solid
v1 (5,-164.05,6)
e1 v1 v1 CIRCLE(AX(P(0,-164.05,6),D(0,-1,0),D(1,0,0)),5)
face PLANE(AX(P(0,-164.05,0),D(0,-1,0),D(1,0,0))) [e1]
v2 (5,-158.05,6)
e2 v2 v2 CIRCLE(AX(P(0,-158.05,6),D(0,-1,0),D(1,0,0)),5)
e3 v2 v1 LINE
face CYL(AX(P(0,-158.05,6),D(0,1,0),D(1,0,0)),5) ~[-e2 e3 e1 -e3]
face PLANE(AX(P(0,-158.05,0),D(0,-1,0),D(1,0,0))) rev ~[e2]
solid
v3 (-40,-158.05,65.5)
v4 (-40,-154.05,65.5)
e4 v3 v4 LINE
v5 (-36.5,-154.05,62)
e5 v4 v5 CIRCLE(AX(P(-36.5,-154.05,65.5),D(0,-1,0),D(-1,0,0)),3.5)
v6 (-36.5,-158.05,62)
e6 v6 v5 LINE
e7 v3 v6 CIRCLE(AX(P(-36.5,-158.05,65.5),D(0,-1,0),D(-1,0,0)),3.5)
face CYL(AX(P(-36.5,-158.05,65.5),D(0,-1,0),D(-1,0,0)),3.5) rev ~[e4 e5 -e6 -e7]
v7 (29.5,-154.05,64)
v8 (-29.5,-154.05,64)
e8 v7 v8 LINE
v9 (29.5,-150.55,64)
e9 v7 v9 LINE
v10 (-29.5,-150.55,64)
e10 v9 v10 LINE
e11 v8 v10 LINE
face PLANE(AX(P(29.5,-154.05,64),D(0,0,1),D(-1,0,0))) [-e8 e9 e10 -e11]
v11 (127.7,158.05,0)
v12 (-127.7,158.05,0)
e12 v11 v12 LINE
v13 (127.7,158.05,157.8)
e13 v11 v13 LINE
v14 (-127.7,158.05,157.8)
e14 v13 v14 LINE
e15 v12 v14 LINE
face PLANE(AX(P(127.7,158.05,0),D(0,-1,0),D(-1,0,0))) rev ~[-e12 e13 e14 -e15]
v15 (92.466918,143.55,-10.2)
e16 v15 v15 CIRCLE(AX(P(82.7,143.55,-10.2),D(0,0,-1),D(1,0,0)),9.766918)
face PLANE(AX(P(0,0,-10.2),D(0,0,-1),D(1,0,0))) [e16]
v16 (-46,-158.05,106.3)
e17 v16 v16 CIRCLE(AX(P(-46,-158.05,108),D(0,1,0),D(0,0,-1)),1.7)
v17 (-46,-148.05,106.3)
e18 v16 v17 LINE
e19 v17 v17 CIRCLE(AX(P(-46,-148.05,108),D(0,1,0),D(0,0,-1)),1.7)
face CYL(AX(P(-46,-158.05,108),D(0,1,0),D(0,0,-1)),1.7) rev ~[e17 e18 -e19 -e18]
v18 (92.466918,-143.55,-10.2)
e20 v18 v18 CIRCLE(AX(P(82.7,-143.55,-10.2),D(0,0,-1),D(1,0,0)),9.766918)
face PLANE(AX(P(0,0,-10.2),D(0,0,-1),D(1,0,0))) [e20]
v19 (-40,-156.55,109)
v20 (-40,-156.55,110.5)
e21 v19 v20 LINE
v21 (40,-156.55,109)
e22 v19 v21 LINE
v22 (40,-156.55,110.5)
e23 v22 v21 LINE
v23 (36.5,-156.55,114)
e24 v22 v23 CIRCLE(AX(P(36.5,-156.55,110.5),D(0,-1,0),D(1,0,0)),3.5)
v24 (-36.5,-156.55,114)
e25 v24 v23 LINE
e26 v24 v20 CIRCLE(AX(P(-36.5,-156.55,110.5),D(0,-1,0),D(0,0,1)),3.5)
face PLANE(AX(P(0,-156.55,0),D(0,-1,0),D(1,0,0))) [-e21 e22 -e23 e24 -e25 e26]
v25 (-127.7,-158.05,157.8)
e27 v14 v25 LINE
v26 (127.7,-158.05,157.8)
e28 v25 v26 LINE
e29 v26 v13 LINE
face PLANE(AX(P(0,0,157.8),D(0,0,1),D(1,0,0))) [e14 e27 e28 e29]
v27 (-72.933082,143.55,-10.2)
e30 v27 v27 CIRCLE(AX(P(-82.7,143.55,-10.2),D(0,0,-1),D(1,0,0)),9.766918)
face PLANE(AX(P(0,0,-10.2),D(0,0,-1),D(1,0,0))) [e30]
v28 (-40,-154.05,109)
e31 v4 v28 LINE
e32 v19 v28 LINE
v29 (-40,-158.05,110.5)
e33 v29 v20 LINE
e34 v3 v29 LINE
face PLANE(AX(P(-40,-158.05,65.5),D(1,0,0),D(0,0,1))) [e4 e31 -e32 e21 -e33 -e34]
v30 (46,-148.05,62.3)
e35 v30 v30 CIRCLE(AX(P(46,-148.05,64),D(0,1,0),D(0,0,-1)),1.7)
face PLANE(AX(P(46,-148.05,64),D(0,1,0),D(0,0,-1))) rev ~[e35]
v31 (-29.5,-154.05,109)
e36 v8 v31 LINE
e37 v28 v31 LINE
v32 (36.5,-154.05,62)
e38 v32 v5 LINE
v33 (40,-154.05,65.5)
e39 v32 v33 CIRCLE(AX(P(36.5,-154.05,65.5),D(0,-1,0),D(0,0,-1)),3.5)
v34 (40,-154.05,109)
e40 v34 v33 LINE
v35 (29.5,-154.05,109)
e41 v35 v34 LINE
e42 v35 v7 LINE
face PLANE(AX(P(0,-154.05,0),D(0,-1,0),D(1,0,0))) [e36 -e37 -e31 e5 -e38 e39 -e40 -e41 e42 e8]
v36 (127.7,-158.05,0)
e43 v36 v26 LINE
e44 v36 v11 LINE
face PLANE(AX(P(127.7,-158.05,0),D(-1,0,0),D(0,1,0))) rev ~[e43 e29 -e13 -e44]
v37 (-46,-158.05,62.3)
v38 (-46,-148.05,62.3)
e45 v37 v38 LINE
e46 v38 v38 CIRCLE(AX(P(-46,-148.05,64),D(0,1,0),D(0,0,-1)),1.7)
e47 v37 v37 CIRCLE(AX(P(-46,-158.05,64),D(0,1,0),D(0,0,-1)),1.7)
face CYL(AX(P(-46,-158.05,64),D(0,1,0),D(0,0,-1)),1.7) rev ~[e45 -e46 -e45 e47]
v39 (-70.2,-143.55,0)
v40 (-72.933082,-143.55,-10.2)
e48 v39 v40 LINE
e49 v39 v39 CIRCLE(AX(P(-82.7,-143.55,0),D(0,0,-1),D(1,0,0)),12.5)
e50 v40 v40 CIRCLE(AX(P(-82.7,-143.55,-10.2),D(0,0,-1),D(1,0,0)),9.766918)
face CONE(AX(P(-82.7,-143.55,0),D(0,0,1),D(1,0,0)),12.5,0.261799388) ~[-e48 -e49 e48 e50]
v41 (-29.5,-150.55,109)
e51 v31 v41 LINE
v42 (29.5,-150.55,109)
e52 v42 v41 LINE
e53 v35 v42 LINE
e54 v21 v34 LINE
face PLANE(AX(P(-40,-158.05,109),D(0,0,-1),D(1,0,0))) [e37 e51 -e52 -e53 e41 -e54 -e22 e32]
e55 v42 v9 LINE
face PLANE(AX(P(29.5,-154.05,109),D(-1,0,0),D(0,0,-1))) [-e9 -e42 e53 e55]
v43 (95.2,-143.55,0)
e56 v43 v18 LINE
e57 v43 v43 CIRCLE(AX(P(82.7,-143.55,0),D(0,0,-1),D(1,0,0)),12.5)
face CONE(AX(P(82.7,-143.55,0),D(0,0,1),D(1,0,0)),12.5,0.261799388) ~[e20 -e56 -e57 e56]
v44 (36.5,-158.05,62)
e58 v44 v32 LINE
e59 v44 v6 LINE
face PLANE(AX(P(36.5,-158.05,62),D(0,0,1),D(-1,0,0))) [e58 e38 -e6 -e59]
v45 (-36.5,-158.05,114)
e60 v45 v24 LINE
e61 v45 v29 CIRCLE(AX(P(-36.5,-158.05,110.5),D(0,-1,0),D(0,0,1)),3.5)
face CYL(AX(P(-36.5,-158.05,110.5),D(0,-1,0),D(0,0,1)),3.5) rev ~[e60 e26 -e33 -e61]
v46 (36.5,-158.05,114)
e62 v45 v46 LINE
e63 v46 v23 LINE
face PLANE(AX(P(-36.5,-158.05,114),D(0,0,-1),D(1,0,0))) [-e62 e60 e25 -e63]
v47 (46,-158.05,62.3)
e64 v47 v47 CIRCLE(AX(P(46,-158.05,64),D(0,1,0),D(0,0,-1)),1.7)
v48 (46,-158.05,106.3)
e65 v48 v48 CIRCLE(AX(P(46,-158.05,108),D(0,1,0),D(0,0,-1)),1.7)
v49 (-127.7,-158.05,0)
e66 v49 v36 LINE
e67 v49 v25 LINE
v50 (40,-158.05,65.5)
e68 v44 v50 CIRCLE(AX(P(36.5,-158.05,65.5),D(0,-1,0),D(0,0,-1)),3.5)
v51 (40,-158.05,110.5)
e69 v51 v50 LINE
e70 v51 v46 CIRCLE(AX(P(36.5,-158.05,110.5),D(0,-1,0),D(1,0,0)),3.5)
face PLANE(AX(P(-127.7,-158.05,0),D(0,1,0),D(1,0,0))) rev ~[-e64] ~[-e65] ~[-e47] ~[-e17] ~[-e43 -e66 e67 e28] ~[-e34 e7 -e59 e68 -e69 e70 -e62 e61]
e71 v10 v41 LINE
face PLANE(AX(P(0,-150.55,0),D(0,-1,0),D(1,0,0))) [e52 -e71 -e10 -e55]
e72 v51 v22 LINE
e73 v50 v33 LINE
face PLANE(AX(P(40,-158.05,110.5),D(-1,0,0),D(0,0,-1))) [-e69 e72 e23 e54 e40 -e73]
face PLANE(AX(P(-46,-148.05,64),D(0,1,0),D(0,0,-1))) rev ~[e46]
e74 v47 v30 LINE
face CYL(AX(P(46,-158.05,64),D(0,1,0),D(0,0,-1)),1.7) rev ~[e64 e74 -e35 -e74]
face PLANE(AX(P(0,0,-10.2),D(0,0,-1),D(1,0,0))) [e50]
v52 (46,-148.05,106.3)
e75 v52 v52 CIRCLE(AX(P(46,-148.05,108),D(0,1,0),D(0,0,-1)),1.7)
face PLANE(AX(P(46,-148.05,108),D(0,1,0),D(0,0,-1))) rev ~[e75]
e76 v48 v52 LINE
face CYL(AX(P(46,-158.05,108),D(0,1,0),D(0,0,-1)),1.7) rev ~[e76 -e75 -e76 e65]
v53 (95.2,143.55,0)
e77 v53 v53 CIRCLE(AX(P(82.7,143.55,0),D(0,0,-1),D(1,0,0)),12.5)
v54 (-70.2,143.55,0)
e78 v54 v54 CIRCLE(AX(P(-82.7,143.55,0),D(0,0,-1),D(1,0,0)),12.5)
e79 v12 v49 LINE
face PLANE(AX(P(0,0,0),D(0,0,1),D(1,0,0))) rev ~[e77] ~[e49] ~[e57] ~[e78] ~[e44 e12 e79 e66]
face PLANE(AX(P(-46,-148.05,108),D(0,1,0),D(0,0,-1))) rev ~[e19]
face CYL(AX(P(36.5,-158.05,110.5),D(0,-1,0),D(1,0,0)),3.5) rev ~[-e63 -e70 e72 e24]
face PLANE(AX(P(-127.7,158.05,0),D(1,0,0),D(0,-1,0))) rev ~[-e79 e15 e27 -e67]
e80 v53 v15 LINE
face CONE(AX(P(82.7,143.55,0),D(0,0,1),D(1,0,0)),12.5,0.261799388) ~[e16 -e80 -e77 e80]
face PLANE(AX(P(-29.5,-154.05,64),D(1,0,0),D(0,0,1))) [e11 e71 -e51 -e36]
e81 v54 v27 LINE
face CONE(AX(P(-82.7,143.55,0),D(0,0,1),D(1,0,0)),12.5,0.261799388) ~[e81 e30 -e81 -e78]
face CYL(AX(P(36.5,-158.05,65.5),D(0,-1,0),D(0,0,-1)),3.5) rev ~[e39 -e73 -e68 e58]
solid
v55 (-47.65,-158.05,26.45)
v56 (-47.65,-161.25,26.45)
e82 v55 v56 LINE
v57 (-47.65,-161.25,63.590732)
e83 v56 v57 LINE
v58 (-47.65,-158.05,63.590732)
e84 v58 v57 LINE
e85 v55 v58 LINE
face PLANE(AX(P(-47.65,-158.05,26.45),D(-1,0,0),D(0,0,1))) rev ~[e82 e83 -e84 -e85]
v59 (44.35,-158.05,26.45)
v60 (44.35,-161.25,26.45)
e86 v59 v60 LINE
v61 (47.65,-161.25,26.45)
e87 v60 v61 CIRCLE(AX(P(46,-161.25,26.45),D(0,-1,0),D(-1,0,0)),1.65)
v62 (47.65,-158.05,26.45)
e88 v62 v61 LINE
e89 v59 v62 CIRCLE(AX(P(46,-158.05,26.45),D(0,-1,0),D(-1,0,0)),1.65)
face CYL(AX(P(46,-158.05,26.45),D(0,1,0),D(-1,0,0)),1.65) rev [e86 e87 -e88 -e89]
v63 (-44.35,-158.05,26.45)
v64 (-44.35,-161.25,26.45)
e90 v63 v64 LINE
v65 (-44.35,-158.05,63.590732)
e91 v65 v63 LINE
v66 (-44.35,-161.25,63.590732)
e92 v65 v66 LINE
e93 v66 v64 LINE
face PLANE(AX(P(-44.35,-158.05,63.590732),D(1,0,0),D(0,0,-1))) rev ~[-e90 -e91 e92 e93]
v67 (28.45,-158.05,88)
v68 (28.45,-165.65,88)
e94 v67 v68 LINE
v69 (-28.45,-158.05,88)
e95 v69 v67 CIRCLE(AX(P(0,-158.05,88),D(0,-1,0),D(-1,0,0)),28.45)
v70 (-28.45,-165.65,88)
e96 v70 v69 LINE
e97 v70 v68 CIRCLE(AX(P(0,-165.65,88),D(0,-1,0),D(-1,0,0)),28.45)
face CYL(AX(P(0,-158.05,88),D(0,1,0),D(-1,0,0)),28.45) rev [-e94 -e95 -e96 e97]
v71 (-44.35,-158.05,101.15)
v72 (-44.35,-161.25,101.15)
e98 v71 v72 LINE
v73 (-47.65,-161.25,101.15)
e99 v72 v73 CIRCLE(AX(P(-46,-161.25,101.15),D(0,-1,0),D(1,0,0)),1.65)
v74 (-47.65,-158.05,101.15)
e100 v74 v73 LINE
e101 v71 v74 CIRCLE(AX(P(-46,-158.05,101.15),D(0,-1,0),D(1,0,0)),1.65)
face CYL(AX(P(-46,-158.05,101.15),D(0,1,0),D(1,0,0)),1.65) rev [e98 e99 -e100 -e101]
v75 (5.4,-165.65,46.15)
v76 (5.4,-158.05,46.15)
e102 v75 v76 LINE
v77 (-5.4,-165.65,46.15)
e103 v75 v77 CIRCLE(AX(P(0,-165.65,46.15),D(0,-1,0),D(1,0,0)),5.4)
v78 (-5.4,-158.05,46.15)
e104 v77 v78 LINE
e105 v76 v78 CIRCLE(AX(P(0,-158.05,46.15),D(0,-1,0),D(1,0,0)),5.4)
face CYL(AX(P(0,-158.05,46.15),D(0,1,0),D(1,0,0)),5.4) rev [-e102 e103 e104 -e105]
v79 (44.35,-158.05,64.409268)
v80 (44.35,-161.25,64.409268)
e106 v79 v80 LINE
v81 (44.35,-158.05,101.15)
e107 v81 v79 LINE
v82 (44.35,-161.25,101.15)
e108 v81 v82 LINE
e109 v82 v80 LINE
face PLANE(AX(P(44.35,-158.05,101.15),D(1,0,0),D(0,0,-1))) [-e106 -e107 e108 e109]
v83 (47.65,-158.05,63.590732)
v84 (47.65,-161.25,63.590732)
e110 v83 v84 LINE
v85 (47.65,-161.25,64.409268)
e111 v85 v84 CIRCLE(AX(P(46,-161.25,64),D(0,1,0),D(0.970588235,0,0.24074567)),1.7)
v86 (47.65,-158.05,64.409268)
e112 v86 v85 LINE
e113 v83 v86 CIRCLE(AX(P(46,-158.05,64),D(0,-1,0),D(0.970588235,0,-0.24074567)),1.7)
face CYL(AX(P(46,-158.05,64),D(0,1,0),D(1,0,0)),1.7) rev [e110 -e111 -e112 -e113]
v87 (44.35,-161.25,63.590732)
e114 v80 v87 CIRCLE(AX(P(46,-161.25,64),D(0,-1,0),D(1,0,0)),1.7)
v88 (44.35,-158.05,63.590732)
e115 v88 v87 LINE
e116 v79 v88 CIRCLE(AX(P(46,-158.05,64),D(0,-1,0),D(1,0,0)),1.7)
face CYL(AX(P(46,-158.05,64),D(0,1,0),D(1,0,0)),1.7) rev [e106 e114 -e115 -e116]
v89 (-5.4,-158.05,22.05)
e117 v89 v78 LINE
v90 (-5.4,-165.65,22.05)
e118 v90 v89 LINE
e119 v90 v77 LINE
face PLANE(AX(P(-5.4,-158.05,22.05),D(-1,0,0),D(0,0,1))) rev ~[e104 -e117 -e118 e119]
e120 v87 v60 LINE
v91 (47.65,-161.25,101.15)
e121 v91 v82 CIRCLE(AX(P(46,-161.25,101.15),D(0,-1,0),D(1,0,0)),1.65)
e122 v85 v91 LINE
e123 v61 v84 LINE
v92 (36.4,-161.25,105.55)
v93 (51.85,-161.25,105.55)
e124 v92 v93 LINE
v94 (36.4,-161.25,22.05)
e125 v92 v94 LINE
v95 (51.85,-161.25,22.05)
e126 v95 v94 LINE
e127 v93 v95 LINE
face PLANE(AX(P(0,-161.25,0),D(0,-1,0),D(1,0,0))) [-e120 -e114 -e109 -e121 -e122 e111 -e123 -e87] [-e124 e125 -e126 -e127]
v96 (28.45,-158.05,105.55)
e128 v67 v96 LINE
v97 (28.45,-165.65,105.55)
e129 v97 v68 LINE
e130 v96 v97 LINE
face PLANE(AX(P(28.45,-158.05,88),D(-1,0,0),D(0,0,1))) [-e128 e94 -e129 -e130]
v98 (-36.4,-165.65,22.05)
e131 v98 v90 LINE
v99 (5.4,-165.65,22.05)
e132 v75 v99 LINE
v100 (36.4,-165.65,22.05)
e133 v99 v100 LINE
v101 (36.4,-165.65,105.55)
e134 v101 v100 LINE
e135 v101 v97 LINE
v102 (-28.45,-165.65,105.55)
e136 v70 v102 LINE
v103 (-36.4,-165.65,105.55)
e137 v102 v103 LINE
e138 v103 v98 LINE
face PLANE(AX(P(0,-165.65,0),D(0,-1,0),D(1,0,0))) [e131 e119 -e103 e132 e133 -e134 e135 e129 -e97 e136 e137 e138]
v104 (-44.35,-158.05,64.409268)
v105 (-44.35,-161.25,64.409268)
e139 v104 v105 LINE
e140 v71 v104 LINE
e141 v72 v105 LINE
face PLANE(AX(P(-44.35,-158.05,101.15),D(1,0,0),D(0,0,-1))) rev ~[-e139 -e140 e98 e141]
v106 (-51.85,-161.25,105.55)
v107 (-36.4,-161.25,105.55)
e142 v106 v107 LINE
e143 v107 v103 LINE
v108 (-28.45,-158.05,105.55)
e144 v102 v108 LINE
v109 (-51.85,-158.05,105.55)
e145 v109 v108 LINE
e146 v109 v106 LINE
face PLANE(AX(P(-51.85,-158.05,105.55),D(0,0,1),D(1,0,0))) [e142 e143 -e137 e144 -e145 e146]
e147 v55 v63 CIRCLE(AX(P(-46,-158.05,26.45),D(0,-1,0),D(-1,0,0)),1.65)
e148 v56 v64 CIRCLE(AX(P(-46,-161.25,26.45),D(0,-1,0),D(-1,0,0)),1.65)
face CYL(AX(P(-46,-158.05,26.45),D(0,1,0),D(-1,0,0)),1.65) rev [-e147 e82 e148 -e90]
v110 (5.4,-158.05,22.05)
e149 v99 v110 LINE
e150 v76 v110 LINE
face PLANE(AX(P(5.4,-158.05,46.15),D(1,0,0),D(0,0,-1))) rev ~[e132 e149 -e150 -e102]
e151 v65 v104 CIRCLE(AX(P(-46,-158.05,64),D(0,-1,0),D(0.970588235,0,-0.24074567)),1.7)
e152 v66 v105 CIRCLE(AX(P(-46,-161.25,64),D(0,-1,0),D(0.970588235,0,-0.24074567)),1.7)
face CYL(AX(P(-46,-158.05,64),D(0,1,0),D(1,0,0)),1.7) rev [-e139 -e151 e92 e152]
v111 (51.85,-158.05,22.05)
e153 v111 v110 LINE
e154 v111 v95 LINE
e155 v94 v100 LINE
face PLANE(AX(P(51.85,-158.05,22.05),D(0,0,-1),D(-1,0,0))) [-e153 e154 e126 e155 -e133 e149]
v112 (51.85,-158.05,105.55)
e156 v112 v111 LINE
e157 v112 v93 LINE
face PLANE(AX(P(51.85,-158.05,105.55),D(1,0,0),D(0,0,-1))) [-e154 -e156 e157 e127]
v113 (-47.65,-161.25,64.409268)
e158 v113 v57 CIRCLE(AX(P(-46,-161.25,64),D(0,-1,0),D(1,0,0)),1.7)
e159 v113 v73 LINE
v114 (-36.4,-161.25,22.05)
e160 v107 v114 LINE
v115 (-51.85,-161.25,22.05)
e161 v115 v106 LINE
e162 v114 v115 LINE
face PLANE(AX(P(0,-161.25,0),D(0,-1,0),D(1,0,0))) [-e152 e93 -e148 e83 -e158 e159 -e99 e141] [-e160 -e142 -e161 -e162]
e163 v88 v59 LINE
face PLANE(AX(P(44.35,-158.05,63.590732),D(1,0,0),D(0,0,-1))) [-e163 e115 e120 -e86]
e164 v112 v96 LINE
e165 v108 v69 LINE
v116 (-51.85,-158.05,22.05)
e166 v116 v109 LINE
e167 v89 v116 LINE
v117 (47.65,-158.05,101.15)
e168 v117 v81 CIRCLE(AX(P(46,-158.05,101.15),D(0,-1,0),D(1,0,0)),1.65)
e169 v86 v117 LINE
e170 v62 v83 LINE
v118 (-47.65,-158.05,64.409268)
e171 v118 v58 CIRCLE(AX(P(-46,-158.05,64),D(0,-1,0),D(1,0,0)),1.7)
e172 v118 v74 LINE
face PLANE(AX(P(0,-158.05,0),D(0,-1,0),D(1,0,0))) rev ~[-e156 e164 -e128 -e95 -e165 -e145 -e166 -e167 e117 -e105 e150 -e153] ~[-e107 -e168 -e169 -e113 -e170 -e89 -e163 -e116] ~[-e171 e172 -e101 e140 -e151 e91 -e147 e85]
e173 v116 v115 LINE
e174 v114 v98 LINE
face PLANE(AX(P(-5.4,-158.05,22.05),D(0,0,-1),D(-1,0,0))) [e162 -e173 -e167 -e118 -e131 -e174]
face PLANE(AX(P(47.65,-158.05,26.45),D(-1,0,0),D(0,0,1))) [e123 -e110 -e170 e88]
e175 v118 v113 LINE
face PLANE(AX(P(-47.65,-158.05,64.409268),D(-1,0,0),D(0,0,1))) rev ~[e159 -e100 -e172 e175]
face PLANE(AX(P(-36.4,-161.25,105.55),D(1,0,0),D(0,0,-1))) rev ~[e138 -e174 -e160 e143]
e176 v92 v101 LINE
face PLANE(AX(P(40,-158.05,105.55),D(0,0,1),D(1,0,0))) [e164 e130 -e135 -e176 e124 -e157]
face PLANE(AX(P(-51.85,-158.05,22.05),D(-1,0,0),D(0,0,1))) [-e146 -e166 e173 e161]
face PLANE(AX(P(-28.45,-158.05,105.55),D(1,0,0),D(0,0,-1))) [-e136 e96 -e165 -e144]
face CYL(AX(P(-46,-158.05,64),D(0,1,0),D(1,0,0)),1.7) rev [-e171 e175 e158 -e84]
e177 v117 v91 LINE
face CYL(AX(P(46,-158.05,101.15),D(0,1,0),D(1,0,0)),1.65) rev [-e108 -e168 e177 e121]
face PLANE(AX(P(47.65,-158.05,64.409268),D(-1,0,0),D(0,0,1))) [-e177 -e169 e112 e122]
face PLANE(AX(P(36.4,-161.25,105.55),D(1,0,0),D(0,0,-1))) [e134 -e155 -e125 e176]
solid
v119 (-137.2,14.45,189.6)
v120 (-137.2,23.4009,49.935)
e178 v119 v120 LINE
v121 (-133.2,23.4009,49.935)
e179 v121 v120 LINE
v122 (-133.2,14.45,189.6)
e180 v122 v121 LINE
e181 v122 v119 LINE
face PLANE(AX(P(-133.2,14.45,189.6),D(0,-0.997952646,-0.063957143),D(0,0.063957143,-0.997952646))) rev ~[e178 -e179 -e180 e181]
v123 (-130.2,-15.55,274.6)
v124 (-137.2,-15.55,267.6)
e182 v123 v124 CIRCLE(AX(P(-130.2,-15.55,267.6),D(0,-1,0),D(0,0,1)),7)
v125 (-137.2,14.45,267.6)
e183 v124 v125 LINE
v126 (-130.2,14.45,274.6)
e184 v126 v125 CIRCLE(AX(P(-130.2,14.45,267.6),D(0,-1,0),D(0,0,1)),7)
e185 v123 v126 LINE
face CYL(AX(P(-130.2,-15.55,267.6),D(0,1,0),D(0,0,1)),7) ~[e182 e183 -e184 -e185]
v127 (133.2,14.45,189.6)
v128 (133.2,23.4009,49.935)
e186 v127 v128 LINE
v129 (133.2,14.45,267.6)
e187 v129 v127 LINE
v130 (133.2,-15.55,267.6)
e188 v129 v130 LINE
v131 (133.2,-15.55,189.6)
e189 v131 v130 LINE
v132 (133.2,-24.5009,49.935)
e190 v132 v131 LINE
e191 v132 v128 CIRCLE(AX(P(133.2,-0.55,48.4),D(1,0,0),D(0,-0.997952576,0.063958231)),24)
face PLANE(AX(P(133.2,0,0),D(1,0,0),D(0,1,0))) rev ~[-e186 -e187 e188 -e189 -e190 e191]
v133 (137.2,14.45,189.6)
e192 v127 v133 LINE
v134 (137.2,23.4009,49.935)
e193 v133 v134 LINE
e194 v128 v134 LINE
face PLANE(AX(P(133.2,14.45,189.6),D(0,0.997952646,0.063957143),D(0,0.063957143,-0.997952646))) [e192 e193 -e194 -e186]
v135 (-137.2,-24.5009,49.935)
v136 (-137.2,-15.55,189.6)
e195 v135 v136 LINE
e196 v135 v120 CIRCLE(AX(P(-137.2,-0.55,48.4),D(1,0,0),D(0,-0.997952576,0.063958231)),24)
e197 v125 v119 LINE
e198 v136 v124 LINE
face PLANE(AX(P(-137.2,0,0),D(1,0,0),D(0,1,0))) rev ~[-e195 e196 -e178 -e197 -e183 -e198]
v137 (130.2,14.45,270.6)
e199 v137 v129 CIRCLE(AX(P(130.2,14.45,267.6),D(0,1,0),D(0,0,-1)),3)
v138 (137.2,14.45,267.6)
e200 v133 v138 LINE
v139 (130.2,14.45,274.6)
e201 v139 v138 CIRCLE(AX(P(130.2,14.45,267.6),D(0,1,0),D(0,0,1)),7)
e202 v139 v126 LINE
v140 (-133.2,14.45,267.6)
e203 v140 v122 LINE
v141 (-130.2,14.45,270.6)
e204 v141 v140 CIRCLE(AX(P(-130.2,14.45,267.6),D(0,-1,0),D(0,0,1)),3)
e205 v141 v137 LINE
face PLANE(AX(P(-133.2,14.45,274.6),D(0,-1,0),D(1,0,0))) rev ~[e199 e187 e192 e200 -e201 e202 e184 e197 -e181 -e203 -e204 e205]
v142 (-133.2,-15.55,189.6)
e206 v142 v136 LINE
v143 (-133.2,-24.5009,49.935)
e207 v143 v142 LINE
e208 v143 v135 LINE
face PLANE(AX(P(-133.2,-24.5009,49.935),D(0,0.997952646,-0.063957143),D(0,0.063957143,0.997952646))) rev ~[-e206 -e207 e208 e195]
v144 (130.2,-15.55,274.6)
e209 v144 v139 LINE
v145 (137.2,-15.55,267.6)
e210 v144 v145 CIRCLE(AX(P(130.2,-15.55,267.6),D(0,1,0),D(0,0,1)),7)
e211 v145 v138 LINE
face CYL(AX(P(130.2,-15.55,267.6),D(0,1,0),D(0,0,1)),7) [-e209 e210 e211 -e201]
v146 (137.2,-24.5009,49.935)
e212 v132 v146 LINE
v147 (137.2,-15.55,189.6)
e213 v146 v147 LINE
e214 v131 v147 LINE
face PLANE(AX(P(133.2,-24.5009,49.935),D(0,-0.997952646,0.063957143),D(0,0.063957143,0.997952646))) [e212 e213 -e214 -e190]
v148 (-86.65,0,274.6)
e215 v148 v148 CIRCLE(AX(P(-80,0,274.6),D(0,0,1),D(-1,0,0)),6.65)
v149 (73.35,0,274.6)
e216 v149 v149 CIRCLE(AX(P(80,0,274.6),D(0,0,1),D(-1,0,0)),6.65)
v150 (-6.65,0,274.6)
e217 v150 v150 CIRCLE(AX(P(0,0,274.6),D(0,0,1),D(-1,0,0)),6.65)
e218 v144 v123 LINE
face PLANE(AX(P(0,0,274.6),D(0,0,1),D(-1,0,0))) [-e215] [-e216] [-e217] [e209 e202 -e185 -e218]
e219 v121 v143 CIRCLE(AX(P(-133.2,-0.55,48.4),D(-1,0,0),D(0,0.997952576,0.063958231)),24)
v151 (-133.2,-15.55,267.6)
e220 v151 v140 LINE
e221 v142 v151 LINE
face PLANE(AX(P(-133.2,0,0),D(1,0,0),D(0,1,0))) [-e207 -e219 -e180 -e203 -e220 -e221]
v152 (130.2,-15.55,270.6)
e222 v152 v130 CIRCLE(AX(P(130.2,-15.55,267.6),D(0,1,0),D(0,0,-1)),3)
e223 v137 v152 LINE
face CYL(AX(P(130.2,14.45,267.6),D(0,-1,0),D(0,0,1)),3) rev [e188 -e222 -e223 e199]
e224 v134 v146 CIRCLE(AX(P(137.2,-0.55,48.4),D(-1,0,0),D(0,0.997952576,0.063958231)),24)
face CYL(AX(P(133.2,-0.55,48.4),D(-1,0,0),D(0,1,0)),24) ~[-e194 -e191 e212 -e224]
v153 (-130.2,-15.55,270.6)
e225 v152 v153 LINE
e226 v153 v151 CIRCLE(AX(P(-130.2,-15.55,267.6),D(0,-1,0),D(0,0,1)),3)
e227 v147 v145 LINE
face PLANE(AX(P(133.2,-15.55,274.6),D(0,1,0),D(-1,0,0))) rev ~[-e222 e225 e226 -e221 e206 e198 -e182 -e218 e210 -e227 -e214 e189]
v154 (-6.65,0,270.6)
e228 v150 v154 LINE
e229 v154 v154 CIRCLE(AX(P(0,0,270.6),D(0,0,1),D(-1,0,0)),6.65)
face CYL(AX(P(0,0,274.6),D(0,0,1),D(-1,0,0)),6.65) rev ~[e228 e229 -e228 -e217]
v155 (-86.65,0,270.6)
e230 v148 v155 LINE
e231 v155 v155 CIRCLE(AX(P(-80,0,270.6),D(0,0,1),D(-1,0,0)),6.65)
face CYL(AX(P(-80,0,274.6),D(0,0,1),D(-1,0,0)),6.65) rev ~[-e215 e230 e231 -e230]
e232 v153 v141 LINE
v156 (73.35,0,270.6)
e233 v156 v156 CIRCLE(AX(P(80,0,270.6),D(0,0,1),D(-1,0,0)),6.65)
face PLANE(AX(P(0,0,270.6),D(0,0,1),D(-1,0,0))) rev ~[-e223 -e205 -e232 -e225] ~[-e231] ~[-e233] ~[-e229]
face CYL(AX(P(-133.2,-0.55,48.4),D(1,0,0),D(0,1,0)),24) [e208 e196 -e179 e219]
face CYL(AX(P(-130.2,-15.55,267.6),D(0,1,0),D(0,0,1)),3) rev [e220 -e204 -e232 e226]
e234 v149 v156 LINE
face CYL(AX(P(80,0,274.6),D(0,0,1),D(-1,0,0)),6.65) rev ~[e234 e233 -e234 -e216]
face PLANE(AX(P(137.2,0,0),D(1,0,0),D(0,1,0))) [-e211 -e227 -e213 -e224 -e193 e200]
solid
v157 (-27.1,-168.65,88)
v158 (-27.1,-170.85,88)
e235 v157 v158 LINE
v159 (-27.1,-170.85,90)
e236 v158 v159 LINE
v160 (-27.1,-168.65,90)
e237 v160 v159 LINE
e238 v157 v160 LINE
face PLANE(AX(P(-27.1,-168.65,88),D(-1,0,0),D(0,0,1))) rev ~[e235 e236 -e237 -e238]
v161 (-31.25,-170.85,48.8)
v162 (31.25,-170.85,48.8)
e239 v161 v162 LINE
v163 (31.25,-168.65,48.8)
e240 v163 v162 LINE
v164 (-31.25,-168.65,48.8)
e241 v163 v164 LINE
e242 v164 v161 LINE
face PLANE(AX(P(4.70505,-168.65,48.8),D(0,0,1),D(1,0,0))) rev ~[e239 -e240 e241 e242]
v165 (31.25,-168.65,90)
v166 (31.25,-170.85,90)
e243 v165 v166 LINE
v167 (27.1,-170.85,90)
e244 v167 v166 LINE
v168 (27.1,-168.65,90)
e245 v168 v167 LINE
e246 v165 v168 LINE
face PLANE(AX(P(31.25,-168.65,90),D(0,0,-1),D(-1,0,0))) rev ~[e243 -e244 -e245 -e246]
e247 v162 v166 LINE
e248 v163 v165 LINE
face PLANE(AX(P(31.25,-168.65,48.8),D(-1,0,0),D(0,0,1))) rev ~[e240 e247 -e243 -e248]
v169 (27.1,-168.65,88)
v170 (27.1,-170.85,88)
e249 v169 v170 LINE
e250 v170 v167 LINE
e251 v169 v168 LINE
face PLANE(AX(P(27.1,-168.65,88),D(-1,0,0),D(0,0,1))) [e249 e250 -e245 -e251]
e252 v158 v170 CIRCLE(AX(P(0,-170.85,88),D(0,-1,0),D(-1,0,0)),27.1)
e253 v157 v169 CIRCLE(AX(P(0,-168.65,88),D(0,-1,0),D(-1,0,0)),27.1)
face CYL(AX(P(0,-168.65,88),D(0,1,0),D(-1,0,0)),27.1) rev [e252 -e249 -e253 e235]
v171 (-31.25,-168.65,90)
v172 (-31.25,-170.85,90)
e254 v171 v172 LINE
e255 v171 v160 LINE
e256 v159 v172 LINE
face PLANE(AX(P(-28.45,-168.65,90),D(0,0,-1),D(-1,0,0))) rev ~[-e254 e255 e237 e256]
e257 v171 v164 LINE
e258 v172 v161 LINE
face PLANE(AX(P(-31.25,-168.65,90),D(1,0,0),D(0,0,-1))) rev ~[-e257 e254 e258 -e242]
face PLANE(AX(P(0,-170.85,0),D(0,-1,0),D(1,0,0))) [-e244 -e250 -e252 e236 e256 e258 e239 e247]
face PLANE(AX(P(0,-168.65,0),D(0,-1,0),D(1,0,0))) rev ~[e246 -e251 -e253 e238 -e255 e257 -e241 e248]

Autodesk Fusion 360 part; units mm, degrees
sketch "Body base" plane through (0, 0, 0) normal (0, 0, 1) x (1, 0, 0) in component "Case Body"
  line L0 (-127.7, -158.05) -> (127.7, -158.05)
  line L1 (127.7, -158.05) -> (127.7, 158.05)
  line L2 (127.7, 158.05) -> (-127.7, 158.05)
  line L3 (-127.7, 158.05) -> (-127.7, -158.05)
  line L4 (-127.7, -158.05) -> (127.7, 158.05) construction
  line L5 (127.7, -158.05) -> (-127.7, 158.05) construction
  dimension "d1" = 316.1
  dimension "d2" = 255.4
extrude "Extrude1" add sketch "Body base" along normal blind 157.8 makes body 1 in component "Case Body"
sketch "Aperature" plane through (0, -158.05, 0) normal (0, -1, 0) x (1, 0, 0) in component "Case Body"
  line L0 (-127.7, 0) -> (127.7, 0)
  line L1 (127.7, 0) -> (127.7, 157.8)
  line L2 (127.7, 157.8) -> (-127.7, 157.8)
  line L3 (-127.7, 157.8) -> (-127.7, 0)
  line L4 (0, 157.8) -> (0, 0) construction
  line L5 (-36.5, 114) -> (36.5, 114)
  line L6 (40, 110.5) -> (40, 65.5)
  line L7 (36.5, 62) -> (-36.5, 62)
  line L8 (-40, 65.5) -> (-40, 110.5)
  arc A0 (-36.5, 114) -> (-40, 110.5) centre (-36.5, 110.5) ccw
  arc A1 (40, 110.5) -> (36.5, 114) centre (36.5, 110.5) ccw
  arc A2 (36.5, 62) -> (40, 65.5) centre (36.5, 65.5) ccw
  arc A3 (-40, 65.5) -> (-36.5, 62) centre (-36.5, 65.5) ccw
  line L9 (-40, 109) -> (40, 109)
  line L10 (-46, 64) -> (46, 64) construction
  point P0 (-40, 114)
  point P1 (40, 114)
  point P2 (-40, 62)
  point P3 (0, 114)
  point P4 (0, 114)
  point P5 (46, 108)
  point P6 (46, 64)
  point P7 (-46, 64)
  point P8 (-46, 108)
  point P9 (0, 64)
  point P10 (0, 86)
  dimension "d5" = 80
  dimension "d6" = 52
  dimension "d7" = 62
  dimension "d8" = 3.5
  dimension "d9" = 5
  dimension "d18" = 92
  dimension "d19" = 44
  dimension "d20" = 6
  dimension "d81" = 28
extrude "Extrude2" cut sketch "Aperature" against normal blind 1.5 contours L5 L6 L8 A0 A1 L9 bodies 1 in component "Case Body"
extrude "Extrude3" cut sketch "Aperature" against normal blind 4 contours L6 L7 L8 A2 A3 L9 bodies 1 in component "Case Body"
sketch "Glass" plane through (0, -154.05, 0) normal (0, -1, 0) x (1, 0, 0) in component "Case Body"
  arc A0 (-40, 65.5) -> (-36.5, 62) centre (-36.5, 65.5) ccw
  line L0 (-36.5, 62) -> (36.5, 62)
  arc A1 (36.5, 62) -> (40, 65.5) centre (36.5, 65.5) ccw
  line L1 (40, 65.5) -> (40, 109)
  line L2 (40, 109) -> (-40, 109)
  line L3 (-40, 109) -> (-40, 65.5)
  line L4 (-29.5, 109) -> (29.5, 109)
  line L5 (29.5, 109) -> (29.5, 64)
  line L6 (29.5, 64) -> (-29.5, 64)
  line L7 (-29.5, 64) -> (-29.5, 109)
  line L8 (40, 109) -> (-40, 109)
  point P0 (0, 109)
  point P1 (0, 109)
  dimension "d14" = 59
  dimension "d15" = 45
extrude "Extrude4" cut sketch "Glass" against normal blind 3.5 contours L2 L4 L5 L6 L7 L8 bodies 1 in component "Case Body"
hole "Hole1" at (46, -158.05, 108) at (46, -158.05, 64) at (-46, -158.05, 108) at (-46, -158.05, 64) direction (0, 1, 0) diameter 3.4 depth 10 tip angle 180 bodies 1 in component "Case Body"
sketch "Aperature knob positions" plane through (0, -158.05, 0) normal (0, -1, 0) x (1, 0, 0) in component "Case Body"
  circle A0 centre (-46, 108) radius 1.7
  circle A1 centre (46, 108) radius 1.7
  circle A2 centre (46, 64) radius 1.7
  circle A3 centre (-46, 64) radius 1.7
  line L0 (-127.7, 0) -> (127.7, 0)
  line L1 (127.7, 0) -> (127.7, 157.8)
  line L2 (127.7, 157.8) -> (-127.7, 157.8)
  line L3 (-127.7, 157.8) -> (-127.7, 0)
  line L4 (40, 110.5) -> (40, 65.5)
  arc A4 (36.5, 62) -> (40, 65.5) centre (36.5, 65.5) ccw
  line L5 (36.5, 62) -> (-36.5, 62)
  arc A5 (-40, 65.5) -> (-36.5, 62) centre (-36.5, 65.5) ccw
  line L6 (-40, 65.5) -> (-40, 110.5)
  arc A6 (-36.5, 114) -> (-40, 110.5) centre (-36.5, 110.5) ccw
  line L7 (-36.5, 114) -> (36.5, 114)
  arc A7 (40, 110.5) -> (36.5, 114) centre (36.5, 110.5) ccw
  line L8 (0, 6) -> (0, 54) construction
  circle A8 centre (0, 54) radius 5
  circle A9 centre (0, 6) radius 5
  dimension "d24" = 48
  dimension "d25" = 6
  dimension "d26" = 10
  dimension "d27" = 10
extrude "Extrude5" add sketch "Aperature knob positions" along normal blind 6 separate body contours A8 | A9 makes body 2 at (4.9752, -160.05, 53.5022) makes body 3 at (4.9752, -160.05, 5.5022) in component "Case Body"
sketch "Profile" plane through (0, 0, 0) normal (1, 0, 0) x (0, 1, 0) in component "Yoke"
  circle A0 centre (-0.55, 48.4) radius 24
  line L0 (158.05, 0) -> (158.05, 157.8)
  line L1 (-158.05, 0) -> (158.05, 0)
  line L2 (-15.55, 274.6) -> (14.45, 274.6)
  line L3 (14.45, 274.6) -> (14.45, 189.6)
  line L4 (14.45, 189.6) -> (23.4009, 49.935)
  line L5 (-24.5009, 49.935) -> (-15.55, 189.6)
  line L6 (-15.55, 189.6) -> (-15.55, 274.6)
  point P0 (-0.55, 274.6)
  dimension "d30" = 48
  dimension "d31" = 158.6
  dimension "d32" = 48.4
  dimension "d33" = 30
  dimension "d34" = 226.2
  dimension "d35" = 85
extrude "Extrude1'" add sketch "Profile" along normal blind 4 from surface at 133.2 separate body makes body 4 in component "Yoke"
extrude "Extrude2'" add sketch "Profile" against normal blind 4 from surface at -133.2 separate body makes body 5 in component "Yoke"
sketch "Top holes" plane through (0, 0, 274.6) normal (0, 0, 1) x (-1, 0, 0) in component "Yoke"
  line L0 (-133.2, -14.45) -> (-133.2, 15.55) construction
  line L1 (-133.2, 15.55) -> (-137.2, 15.55)
  line L2 (-137.2, 15.55) -> (-137.2, -14.45)
  line L3 (-137.2, -14.45) -> (-133.2, -14.45)
  line L4 (133.2, 15.55) -> (133.2, -14.45)
  line L5 (133.2, -14.45) -> (-137.2, -14.45)
  line L6 (-137.2, -14.45) -> (-137.2, 15.55)
  line L7 (-137.2, 15.55) -> (133.2, 15.55)
  line L8 (133.2, 15.55) -> (133.2, -14.45)
  circle A0 centre (80, 0) radius 6.65
  circle A1 centre (0, 0) radius 6.65
  circle A2 centre (-80, 0) radius 6.65
  dimension "d44" = 13.3
  dimension "d47" = 80
  dimension "d48" = 0
extrude "Extrude3'" add sketch "Top holes" against normal blind 4 bodies 4 5 in component "Yoke"
fillet "Fillet1" radius 3 1 edges at (133.2, -0.55, 270.6) on bodies 4 in component "Yoke"
fillet "Fillet1" radius 7 1 edges at (137.2, -0.55, 274.6) on bodies 4 in component "Yoke"
fillet "Fillet1" radius 7 1 edges at (-137.2, -0.55, 274.6) on bodies 4 in component "Yoke"
fillet "Fillet1" radius 3 1 edges at (-133.2, -0.55, 270.6) on bodies 4 in component "Yoke"
sketch "Feet" plane through (0, 0, 0) normal (0, 0, -1) x (1, 0, 0) in component "Case Body"
  line L0 (-127.7, 158.05) -> (-127.7, -158.05)
  line L1 (-127.7, -158.05) -> (127.7, -158.05)
  line L2 (127.7, -158.05) -> (127.7, 158.05)
  line L3 (127.7, 158.05) -> (-127.7, 158.05)
  circle A0 centre (-82.7, 143.55) radius 12.5
  line L4 (0, -2.5) -> (0, -20)
  circle A1 centre (82.7, 143.55) radius 12.5
  line L5 (20, 0) -> (2.5, 0)
  circle A2 centre (82.7, -143.55) radius 12.5
  circle A3 centre (-82.7, -143.55) radius 12.5
  dimension "d53" = 25
  dimension "d54" = 45
  dimension "d55" = 2
extrude "Extrude6" add sketch "Feet" along normal blind 10.2 draft -15 contours A0 | A1 | A2 | A3 bodies 1 in component "Case Body"
sketch "Base" plane through (0, -158.05, 0) normal (0, -1, 0) x (1, 0, 0) in component "SafetyScan Bracket"
  circle A0 centre (-46, 108) radius 1.7
  circle A1 centre (46, 108) radius 1.7
  circle A2 centre (46, 64) radius 1.7
  circle A3 centre (-46, 64) radius 1.7
  line L0 (-127.7, 0) -> (127.7, 0)
  line L1 (127.7, 0) -> (127.7, 157.8)
  line L2 (127.7, 157.8) -> (-127.7, 157.8)
  line L3 (-127.7, 157.8) -> (-127.7, 0)
  line L4 (40, 110.5) -> (40, 65.5)
  arc A4 (36.5, 62) -> (40, 65.5) centre (36.5, 65.5) ccw
  line L5 (36.5, 62) -> (-36.5, 62) construction
  arc A5 (-40, 65.5) -> (-36.5, 62) centre (-36.5, 65.5) ccw
  line L6 (-40, 65.5) -> (-40, 110.5)
  arc A6 (-36.5, 114) -> (-40, 110.5) centre (-36.5, 110.5) ccw
  line L7 (-36.5, 114) -> (36.5, 114)
  arc A7 (40, 110.5) -> (36.5, 114) centre (36.5, 110.5) ccw
  line L8 (-51.85, 105.55) -> (51.85, 105.55)
  line L9 (51.85, 105.55) -> (51.85, 22.05)
  line L10 (51.85, 22.05) -> (-51.85, 22.05)
  line L11 (-51.85, 22.05) -> (-51.85, 105.55)
  line L12 (44.35, 101.15) -> (44.35, 26.45)
  arc A8 (44.35, 26.45) -> (47.65, 26.45) centre (46, 26.45) ccw
  line L13 (47.65, 26.45) -> (47.65, 101.15)
  arc A9 (47.65, 101.15) -> (44.35, 101.15) centre (46, 101.15) ccw
  line L14 (46, 102.8) -> (46, 24.8) construction
  line L15 (-28.45, 105.55) -> (-28.45, 88)
  arc A10 (-28.45, 88) -> (28.45, 88) centre (0, 88) ccw
  line L16 (28.45, 88) -> (28.45, 105.55)
  line L17 (-5.4, 22.05) -> (-5.4, 46.15)
  arc A11 (5.4, 46.15) -> (-5.4, 46.15) centre (0, 46.15) ccw
  line L18 (5.4, 46.15) -> (5.4, 22.05)
  line L19 (40, 109) -> (-40, 109)
  line L20 (0, 88) -> (0, 46.15) construction
  line L21 (-44.35, 101.15) -> (-44.35, 26.45)
  arc A12 (-47.65, 26.45) -> (-44.35, 26.45) centre (-46, 26.45) ccw
  line L22 (-47.65, 26.45) -> (-47.65, 101.15)
  arc A13 (-44.35, 101.15) -> (-47.65, 101.15) centre (-46, 101.15) ccw
  point P0 (47.65, 63.8)
  point P1 (51.85, 63.8)
  point P2 (0, 105.55)
  dimension "d58" = 103.7
  dimension "d59" = 83.5
  dimension "d60" = 78
  dimension "d61" = 3.3
  dimension "d62" = 4.2
  dimension "d63" = 56.9
  dimension "d64" = 46
  dimension "d65" = 10.8
  dimension "d66" = 29.5
  dimension "d67" = 21
extrude "Extrude1''" add sketch "Base" along normal blind 3.2 separate body contours L8 L9 L10 L11 L15 A10 L16 L17 A11 L18 makes body 6 in component "SafetyScan Bracket"
sketch "Raised" plane through (0, -161.25, 0) normal (0, -1, 0) x (1, 0, 0) in component "SafetyScan Bracket"
  arc A0 (-44.35, 63.5907) -> (-44.35, 64.4093) centre (-46, 64) ccw
  line L0 (-44.35, 63.5907) -> (-44.35, 26.45)
  arc A1 (-47.65, 26.45) -> (-44.35, 26.45) centre (-46, 26.45) ccw
  line L1 (-47.65, 26.45) -> (-47.65, 63.5907)
  arc A2 (-47.65, 64.4093) -> (-47.65, 63.5907) centre (-46, 64) ccw
  line L2 (-47.65, 64.4093) -> (-47.65, 101.15)
  arc A3 (-44.35, 101.15) -> (-47.65, 101.15) centre (-46, 101.15) ccw
  line L3 (-44.35, 101.15) -> (-44.35, 64.4093)
  arc A4 (47.65, 101.15) -> (44.35, 101.15) centre (46, 101.15) ccw
  line L4 (47.65, 101.15) -> (47.65, 64.4093)
  arc A5 (47.65, 63.5907) -> (47.65, 64.4093) centre (46, 64) ccw
  line L5 (47.65, 63.5907) -> (47.65, 26.45)
  arc A6 (44.35, 26.45) -> (47.65, 26.45) centre (46, 26.45) ccw
  line L6 (44.35, 26.45) -> (44.35, 63.5907)
  arc A7 (44.35, 64.4093) -> (44.35, 63.5907) centre (46, 64) ccw
  line L7 (44.35, 64.4093) -> (44.35, 101.15)
  line L8 (-5.4, 22.05) -> (-5.4, 46.15)
  arc A8 (5.4, 46.15) -> (-5.4, 46.15) centre (0, 46.15) ccw
  line L9 (5.4, 46.15) -> (5.4, 22.05)
  line L10 (5.4, 22.05) -> (51.85, 22.05)
  line L11 (51.85, 22.05) -> (51.85, 105.55)
  line L12 (51.85, 105.55) -> (28.45, 105.55)
  line L13 (28.45, 105.55) -> (28.45, 88)
  arc A9 (-28.45, 88) -> (28.45, 88) centre (0, 88) ccw
  line L14 (-28.45, 88) -> (-28.45, 105.55)
  line L15 (-28.45, 105.55) -> (-51.85, 105.55)
  line L16 (-51.85, 105.55) -> (-51.85, 22.05)
  line L17 (-51.85, 22.05) -> (-5.4, 22.05)
  line L18 (-36.4, 105.55) -> (-36.4, 22.05)
  line L19 (36.4, 105.55) -> (36.4, 22.05)
  line L20 (-36.4, 105.55) -> (36.4, 105.55) construction
  point P0 (0, 105.55)
  dimension "d70" = 72.8
extrude "Extrude2''" add sketch "Raised" along normal blind 4.4 contours L8 A8 L9 L10 L12 L13 A9 L14 L15 L17 L18 L19 bodies 6 in component "SafetyScan Bracket"
sketch "Lens holder" plane through (0, -165.65, 0) normal (0, -1, 0) x (1, 0, 0) in component "SafetyScan Bracket"
  line L0 (28.45, 105.55) -> (28.45, 88)
  arc A0 (-28.45, 88) -> (28.45, 88) centre (0, 88) ccw construction
  line L1 (-28.45, 88) -> (-28.45, 105.55)
  line L2 (-28.45, 105.55) -> (-36.4, 105.55)
  line L3 (-36.4, 105.55) -> (-36.4, 22.05)
  line L4 (-36.4, 22.05) -> (-5.4, 22.05)
  line L5 (-5.4, 22.05) -> (-5.4, 46.15)
  arc A1 (5.4, 46.15) -> (-5.4, 46.15) centre (0, 46.15) ccw
  line L6 (5.4, 46.15) -> (5.4, 22.05)
  line L7 (5.4, 22.05) -> (36.4, 22.05)
  line L8 (36.4, 22.05) -> (36.4, 105.55)
  line L9 (36.4, 105.55) -> (28.45, 105.55)
  line L10 (-31.25, 48.8) -> (31.25, 48.8)
  line L11 (31.25, 48.8) -> (31.25, 90)
  line L12 (31.25, 90) -> (-31.25, 90)
  line L13 (-31.25, 90) -> (-31.25, 48.8)
  arc A2 (-27.1, 88) -> (27.1, 88) centre (0, 88) ccw
  line L14 (27.1, 88) -> (27.1, 90)
  line L15 (-27.1, 88) -> (-27.1, 90)
  point P0 (0, 90)
  dimension "d73" = 62.5
  dimension "d74" = 41.2
  dimension "d76" = 12.1
  dimension "d77" = 54.2
extrude "Extrude3''" add sketch "Lens holder" along normal blind 2.2 from surface at 3 separate body contours A1 L10 L11 L12 L13 A2 L14 L15 | A1 L10 makes body 7 in component "SafetyScan Bracket"
component "Case Body" placed x (1, 0, 0) y (0, 1, 0) z (0, 0, 1) at (0, 0, 0)
component "Yoke" placed x (1, 0, 0) y (0, 1, 0) z (0, 0, 1) at (0, 0, 0)
component "SafetyScan Bracket" placed x (1, 0, 0) y (0, 1, 0) z (0, 0, 1) at (0, 0, 0)
hidden bodies 2
equation "d27 = d26"
equation "d36 = ( ( ( 274.4 / 2 ) * 1 mm ) - 4 mm )"
equation "d39 = -( ( ( 274.4 / 2 ) * 1 mm ) - 4 mm )"
equation "d75 = ( 51 / 2 ) * 1 mm"
properties part number "Open"
